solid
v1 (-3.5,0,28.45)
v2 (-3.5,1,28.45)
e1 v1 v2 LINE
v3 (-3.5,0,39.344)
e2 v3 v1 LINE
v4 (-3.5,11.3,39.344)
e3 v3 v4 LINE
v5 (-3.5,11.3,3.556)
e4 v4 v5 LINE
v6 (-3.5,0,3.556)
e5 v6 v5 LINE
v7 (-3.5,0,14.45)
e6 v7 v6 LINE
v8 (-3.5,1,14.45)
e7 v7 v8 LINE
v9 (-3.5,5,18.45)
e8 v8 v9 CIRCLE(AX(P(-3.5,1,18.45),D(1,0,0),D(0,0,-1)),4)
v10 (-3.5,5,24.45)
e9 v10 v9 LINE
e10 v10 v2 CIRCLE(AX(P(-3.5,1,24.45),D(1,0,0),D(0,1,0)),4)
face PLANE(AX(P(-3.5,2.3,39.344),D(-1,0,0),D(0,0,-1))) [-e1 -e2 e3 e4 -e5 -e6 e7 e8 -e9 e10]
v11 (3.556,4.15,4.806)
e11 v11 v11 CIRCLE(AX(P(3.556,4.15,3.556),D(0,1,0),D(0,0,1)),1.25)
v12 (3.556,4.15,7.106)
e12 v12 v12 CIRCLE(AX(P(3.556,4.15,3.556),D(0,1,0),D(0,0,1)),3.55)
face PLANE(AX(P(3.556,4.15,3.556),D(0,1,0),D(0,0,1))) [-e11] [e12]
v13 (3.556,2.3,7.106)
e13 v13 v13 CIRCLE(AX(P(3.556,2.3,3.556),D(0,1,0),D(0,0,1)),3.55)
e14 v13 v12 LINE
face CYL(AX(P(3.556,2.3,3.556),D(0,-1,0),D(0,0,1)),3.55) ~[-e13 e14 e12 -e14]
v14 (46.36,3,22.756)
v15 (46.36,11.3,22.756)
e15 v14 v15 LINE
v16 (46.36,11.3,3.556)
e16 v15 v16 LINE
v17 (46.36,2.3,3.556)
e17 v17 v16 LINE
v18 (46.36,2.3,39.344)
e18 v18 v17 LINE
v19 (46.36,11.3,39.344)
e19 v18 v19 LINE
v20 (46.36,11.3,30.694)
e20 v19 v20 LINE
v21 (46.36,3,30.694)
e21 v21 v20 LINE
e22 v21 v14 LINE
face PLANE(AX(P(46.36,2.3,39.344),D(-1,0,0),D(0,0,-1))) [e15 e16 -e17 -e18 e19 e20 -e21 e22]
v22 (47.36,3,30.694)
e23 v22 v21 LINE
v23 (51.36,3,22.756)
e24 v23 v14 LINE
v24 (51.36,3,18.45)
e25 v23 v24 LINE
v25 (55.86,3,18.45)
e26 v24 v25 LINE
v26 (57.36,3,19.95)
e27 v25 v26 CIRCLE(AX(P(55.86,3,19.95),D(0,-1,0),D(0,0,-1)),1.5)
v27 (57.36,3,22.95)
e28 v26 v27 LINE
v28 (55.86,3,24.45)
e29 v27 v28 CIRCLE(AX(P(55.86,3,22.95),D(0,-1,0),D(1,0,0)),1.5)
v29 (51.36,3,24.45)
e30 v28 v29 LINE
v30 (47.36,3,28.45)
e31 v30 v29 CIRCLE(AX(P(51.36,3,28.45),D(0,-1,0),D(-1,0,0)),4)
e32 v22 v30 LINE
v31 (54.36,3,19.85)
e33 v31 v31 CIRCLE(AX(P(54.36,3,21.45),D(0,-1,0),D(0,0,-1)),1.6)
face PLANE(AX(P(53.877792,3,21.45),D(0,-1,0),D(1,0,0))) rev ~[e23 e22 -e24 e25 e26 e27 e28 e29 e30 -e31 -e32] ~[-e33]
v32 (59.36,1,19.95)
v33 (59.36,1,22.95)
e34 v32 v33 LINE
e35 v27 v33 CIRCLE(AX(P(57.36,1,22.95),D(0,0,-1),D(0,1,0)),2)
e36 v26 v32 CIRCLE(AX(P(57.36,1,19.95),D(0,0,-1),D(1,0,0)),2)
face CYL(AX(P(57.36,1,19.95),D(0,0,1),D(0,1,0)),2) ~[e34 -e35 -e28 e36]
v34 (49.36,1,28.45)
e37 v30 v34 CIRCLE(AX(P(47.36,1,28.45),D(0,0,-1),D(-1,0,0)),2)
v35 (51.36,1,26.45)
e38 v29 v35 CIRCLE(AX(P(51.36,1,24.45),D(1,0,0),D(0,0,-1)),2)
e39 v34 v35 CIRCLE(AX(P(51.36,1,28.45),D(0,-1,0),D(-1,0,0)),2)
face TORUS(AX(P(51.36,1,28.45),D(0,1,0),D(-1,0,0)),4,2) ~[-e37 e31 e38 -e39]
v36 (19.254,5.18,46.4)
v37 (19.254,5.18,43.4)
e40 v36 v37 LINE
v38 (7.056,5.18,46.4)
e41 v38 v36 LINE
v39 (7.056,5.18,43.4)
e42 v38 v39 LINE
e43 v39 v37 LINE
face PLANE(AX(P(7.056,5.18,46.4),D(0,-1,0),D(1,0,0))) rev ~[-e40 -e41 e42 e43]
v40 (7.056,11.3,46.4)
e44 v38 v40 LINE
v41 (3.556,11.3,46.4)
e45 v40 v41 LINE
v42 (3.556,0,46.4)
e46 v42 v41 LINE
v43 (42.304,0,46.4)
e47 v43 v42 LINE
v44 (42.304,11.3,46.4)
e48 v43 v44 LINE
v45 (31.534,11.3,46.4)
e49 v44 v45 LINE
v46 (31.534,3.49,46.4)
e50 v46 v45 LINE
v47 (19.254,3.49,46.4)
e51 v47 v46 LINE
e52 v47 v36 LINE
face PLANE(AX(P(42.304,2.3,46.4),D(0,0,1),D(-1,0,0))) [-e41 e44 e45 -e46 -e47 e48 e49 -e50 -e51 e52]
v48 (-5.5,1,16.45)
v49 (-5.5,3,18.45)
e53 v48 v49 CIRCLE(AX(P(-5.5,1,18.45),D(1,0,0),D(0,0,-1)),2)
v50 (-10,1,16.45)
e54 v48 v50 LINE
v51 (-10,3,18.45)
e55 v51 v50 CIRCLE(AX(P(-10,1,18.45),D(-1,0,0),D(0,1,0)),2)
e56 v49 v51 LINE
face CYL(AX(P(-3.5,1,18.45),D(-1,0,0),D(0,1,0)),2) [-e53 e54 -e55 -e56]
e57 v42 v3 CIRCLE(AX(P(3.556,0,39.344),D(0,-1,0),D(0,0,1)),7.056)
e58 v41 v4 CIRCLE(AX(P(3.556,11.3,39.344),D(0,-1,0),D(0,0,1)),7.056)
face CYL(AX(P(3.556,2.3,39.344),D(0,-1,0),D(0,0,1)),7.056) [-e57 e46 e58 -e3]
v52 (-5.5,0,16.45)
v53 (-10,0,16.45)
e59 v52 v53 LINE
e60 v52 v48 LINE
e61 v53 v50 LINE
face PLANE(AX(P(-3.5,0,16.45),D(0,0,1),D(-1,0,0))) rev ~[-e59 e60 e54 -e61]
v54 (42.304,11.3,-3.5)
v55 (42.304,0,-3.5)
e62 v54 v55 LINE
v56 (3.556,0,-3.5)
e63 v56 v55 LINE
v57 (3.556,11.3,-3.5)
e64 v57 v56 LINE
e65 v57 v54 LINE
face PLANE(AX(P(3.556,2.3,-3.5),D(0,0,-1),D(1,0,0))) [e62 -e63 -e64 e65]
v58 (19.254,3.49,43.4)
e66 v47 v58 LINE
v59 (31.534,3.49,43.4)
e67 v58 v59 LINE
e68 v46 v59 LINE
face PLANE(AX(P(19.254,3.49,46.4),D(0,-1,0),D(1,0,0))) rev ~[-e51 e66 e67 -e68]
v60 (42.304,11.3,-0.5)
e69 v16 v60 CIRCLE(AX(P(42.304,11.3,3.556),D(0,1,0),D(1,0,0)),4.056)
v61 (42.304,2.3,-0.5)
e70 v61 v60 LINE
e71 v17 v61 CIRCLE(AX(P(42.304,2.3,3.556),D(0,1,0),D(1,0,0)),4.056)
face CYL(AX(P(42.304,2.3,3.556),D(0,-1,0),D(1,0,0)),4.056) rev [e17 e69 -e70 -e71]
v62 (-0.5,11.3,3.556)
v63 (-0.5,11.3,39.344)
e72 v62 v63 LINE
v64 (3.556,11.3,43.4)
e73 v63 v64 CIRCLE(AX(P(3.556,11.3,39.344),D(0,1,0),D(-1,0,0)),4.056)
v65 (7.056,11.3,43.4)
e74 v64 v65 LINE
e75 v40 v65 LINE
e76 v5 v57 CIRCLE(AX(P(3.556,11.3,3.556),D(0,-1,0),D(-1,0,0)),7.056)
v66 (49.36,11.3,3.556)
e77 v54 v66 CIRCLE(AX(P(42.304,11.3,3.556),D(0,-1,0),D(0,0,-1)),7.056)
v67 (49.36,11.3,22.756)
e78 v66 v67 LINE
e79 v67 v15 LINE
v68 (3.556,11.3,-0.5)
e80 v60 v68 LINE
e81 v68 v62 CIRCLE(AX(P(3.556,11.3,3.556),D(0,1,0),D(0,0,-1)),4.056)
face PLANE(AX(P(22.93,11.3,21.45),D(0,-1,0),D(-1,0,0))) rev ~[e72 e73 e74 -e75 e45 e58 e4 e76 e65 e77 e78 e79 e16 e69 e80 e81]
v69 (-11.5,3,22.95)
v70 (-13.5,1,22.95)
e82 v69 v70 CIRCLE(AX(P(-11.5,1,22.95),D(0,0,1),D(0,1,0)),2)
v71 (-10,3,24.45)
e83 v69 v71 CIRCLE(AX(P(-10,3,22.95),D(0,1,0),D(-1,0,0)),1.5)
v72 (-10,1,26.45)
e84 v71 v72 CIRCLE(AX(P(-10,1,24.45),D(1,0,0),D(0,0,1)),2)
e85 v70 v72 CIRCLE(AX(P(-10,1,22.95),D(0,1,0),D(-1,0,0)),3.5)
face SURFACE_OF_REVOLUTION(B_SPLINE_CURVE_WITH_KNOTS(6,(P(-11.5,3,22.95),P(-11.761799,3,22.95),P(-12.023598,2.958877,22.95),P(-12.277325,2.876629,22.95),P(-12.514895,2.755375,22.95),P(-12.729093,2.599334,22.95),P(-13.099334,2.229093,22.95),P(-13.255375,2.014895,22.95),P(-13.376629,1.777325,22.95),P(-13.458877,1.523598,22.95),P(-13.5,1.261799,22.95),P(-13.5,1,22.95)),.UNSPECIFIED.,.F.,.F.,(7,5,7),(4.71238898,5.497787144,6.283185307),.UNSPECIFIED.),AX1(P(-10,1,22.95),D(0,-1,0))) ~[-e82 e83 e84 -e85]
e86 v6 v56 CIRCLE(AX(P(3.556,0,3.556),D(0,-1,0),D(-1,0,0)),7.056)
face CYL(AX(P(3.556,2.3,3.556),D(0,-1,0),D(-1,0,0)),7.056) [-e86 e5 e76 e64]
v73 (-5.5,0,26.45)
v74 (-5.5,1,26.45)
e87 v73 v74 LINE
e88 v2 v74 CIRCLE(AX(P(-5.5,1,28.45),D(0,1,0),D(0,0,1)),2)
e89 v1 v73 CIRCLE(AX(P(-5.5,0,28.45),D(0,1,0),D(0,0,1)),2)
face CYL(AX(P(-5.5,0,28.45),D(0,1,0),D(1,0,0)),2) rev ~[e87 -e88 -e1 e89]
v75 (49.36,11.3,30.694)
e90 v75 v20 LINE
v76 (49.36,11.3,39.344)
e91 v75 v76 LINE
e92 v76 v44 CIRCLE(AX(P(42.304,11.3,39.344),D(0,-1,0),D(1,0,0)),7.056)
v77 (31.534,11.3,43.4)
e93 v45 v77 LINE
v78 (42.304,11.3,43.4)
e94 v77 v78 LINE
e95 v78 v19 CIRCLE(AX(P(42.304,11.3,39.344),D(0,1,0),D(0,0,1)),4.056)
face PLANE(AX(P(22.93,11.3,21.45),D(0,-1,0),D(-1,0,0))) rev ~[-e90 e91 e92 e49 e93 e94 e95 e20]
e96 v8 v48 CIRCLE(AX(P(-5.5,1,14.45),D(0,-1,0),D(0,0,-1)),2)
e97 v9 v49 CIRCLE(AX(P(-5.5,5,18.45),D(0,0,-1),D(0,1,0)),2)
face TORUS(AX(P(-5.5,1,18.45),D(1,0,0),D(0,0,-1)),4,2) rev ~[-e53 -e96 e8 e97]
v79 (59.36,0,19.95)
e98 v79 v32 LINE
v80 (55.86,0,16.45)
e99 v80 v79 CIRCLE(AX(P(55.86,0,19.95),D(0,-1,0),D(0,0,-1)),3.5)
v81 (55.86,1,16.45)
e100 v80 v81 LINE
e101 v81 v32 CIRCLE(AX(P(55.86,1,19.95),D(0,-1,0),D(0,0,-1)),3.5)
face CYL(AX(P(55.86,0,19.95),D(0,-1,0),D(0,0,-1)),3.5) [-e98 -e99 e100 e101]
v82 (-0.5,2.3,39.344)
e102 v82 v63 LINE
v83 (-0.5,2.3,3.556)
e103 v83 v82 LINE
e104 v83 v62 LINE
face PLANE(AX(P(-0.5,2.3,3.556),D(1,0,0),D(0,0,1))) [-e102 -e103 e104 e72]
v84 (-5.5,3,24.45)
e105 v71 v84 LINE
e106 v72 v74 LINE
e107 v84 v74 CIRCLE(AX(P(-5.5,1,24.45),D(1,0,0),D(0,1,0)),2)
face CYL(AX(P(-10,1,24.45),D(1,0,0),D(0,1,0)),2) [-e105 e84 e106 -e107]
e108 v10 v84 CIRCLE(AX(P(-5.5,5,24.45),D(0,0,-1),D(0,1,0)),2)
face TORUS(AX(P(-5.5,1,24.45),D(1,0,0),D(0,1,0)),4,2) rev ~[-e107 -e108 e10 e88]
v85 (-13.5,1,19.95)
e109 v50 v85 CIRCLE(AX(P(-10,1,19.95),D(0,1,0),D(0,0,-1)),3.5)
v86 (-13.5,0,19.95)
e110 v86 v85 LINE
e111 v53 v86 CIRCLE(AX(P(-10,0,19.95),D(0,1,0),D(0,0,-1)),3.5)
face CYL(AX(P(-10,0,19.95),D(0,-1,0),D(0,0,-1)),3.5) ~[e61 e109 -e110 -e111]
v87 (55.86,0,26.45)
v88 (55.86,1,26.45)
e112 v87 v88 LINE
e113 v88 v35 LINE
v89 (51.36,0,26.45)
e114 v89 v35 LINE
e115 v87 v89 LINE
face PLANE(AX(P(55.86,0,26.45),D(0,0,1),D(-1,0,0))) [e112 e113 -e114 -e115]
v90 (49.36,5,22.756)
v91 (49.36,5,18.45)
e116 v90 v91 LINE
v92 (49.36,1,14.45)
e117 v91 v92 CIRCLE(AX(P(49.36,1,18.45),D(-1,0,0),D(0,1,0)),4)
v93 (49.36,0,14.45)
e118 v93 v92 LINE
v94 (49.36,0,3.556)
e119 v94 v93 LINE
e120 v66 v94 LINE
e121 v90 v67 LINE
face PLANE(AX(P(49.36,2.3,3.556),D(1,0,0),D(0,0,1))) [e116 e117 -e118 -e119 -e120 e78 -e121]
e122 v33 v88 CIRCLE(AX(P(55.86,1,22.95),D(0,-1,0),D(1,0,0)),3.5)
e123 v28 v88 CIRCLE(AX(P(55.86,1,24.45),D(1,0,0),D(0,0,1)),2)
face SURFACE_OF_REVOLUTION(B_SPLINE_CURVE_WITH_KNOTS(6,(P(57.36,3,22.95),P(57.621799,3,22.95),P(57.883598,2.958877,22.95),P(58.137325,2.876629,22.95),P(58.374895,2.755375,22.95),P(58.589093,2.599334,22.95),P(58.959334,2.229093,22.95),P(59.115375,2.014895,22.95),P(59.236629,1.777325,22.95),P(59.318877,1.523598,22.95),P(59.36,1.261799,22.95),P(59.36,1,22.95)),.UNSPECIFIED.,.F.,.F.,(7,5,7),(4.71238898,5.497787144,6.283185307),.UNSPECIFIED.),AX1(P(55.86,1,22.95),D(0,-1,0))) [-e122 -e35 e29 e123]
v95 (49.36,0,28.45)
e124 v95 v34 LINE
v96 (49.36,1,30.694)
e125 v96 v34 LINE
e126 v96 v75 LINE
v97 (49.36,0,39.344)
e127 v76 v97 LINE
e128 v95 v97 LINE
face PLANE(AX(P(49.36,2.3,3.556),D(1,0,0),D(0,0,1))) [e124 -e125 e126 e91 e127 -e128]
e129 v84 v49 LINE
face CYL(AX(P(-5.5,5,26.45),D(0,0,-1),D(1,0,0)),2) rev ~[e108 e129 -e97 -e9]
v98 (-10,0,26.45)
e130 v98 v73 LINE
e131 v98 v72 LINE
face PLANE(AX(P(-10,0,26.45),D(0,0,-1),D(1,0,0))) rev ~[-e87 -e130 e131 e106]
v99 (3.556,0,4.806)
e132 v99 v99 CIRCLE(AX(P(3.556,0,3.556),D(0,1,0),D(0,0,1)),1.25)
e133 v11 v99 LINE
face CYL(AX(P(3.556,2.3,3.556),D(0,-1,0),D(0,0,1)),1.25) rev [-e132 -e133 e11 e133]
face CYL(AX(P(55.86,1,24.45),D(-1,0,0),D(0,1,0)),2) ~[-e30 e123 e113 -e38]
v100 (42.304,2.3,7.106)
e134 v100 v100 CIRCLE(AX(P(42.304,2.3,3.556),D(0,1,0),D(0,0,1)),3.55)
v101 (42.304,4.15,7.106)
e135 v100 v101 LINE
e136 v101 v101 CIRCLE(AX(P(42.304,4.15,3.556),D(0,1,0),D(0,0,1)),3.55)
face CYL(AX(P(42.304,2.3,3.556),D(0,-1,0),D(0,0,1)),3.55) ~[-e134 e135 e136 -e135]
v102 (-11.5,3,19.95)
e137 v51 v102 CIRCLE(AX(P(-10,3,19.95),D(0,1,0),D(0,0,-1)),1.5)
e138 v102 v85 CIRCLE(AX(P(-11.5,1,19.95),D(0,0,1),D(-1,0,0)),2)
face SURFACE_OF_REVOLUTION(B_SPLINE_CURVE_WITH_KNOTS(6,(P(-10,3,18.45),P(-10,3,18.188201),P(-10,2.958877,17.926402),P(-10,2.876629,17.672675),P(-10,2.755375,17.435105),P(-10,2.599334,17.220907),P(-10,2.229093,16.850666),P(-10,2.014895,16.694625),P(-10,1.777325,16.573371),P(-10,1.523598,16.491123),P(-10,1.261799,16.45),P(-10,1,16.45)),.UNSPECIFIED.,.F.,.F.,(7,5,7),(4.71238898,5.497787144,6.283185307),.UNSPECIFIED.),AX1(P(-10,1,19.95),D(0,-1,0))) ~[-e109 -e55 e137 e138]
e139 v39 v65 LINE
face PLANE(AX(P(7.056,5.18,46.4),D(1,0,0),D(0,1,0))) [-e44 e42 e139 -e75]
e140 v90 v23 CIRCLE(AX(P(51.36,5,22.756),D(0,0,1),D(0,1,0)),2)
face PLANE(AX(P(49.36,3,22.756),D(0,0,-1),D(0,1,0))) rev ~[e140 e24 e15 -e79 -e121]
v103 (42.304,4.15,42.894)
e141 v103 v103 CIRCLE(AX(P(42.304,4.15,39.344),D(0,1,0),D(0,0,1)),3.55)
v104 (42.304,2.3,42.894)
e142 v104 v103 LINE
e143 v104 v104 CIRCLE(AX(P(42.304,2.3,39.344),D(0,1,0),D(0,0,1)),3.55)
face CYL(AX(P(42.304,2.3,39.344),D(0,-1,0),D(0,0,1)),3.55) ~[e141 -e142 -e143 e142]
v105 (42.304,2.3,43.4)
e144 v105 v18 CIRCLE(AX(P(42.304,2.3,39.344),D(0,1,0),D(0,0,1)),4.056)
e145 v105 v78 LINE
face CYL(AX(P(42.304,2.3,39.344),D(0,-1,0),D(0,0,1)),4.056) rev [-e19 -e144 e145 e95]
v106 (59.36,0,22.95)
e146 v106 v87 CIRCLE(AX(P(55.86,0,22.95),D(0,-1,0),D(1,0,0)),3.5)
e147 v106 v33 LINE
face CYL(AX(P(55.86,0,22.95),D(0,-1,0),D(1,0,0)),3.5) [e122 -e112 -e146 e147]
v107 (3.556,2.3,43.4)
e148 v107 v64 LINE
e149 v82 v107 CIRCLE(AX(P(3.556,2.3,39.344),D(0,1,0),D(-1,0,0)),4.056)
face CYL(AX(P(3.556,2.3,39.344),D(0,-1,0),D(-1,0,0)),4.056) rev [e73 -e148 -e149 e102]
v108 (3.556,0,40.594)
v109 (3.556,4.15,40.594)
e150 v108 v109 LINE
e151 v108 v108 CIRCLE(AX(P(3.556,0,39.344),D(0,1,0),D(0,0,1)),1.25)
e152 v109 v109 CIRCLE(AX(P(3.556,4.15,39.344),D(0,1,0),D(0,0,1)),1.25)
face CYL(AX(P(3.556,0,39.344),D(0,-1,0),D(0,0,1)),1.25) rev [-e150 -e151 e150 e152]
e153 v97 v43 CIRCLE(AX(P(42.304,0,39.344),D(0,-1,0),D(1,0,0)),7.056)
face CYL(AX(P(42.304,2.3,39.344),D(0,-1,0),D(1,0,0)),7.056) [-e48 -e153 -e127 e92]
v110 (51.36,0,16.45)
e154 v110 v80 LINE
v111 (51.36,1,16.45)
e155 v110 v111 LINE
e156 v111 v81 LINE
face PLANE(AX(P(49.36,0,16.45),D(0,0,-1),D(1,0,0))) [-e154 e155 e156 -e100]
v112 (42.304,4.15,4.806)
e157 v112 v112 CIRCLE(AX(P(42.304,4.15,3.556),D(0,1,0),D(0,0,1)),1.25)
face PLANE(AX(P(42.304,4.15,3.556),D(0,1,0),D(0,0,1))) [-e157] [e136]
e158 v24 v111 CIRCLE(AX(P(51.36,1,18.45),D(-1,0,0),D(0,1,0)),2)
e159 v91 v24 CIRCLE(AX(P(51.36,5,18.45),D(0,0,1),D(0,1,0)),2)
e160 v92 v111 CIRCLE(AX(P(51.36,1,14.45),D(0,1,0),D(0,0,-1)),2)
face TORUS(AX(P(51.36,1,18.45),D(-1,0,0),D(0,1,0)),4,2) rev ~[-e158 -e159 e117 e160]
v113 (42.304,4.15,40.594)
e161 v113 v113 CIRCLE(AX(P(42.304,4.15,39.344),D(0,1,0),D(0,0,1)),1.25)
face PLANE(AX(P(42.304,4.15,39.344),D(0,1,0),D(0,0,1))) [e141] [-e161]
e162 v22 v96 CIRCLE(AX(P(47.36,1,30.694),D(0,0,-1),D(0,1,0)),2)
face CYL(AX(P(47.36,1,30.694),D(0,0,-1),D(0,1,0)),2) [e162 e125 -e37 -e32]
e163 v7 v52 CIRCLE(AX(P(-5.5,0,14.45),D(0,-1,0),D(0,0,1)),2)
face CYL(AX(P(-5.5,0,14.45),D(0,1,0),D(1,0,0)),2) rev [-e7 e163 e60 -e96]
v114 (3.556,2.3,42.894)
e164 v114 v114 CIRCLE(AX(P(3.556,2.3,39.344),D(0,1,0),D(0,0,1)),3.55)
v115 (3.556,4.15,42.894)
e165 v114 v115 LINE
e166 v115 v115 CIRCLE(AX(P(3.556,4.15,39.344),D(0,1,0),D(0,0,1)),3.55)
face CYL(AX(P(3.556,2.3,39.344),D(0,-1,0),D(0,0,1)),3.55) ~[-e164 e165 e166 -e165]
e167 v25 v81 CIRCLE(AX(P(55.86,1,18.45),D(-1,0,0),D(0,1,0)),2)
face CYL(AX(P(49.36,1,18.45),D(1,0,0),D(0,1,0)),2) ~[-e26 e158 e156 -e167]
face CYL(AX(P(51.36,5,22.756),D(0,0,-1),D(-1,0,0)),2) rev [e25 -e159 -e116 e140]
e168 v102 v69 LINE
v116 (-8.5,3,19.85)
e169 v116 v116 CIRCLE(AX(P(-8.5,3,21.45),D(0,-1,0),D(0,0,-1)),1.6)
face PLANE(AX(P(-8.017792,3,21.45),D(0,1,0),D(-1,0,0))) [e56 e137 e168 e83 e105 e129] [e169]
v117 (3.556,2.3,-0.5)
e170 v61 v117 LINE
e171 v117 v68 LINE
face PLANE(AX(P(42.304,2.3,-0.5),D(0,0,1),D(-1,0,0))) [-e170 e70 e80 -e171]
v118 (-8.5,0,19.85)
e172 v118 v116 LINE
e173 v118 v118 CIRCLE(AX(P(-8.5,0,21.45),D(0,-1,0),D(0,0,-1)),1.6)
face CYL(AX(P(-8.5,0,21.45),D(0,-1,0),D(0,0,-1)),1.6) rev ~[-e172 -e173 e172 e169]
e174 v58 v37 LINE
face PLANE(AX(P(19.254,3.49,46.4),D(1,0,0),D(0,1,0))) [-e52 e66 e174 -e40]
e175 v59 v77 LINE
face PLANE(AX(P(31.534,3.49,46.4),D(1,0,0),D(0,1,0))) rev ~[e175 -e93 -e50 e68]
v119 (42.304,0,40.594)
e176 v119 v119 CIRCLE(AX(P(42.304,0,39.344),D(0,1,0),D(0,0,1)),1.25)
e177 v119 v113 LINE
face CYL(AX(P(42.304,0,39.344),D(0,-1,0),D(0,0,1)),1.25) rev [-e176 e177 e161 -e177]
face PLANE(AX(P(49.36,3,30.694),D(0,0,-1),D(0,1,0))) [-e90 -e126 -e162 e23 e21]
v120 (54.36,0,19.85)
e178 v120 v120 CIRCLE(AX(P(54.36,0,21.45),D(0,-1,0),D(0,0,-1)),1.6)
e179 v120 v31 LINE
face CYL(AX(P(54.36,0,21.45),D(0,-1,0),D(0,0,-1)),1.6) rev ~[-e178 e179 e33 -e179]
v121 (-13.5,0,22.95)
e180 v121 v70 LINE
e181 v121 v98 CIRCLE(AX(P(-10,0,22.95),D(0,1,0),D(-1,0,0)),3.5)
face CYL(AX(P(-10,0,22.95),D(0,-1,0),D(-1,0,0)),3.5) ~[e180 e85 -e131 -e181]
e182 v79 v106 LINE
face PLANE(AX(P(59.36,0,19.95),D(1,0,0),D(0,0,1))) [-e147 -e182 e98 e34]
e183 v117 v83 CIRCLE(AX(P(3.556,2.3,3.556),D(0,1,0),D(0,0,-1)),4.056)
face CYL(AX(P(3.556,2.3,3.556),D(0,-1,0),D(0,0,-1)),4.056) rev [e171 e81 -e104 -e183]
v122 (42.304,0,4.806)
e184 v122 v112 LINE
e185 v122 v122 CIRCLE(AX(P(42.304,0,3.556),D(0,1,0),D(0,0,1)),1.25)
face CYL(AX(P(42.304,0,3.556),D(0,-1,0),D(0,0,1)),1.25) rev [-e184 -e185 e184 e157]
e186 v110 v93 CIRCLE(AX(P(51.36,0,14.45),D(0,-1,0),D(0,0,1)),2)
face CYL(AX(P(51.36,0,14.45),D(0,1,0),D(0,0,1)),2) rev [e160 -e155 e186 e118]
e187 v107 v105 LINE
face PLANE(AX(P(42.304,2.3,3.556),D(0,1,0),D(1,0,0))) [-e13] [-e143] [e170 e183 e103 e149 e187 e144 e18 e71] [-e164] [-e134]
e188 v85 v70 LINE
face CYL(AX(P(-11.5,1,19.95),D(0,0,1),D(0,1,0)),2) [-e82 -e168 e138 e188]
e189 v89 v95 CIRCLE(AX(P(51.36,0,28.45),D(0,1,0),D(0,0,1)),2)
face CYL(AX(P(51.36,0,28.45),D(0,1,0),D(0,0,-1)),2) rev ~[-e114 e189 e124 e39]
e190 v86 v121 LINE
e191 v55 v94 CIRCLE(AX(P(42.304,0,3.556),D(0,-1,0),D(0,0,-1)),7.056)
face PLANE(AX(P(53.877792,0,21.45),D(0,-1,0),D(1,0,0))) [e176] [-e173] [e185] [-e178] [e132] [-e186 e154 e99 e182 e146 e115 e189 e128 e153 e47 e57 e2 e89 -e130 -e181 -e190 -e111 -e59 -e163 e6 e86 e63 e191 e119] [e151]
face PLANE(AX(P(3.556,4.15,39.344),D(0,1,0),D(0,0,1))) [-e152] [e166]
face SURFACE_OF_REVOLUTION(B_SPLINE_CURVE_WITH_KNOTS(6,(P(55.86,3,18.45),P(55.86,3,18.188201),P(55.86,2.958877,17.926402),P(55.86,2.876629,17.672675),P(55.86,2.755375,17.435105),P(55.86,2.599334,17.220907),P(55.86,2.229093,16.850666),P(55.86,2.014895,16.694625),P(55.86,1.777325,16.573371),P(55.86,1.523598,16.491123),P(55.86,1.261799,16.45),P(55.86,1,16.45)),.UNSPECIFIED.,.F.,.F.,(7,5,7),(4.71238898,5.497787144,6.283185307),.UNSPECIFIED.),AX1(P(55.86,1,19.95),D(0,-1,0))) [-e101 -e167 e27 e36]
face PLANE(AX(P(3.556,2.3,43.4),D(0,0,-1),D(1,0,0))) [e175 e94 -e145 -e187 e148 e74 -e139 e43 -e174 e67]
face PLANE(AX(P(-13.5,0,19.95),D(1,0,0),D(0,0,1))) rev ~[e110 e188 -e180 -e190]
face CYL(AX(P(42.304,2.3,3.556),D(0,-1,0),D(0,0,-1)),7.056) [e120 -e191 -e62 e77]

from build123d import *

# Parameters (mm, degrees)
SKETCH1_R           = 3.55
SKETCH1_R_2         = 1.25
BOSS_EXTRUDE1_DEPTH = 2.3
BOSS_EXTRUDE2_START = 2.3
SKETCH1_3_R         = 3.55
SKETCH1_3_R_2       = 1.25
BOSS_EXTRUDE2_DEPTH = 1.85
BOSS_EXTRUDE3_START = 2.3
BOSS_EXTRUDE3_DEPTH = 9
CUT_EXTRUDE3_REACH  = 73.238
SKETCH2_W           = 7.938
SKETCH2_H           = 8.3
CUT_EXTRUDE4_REACH  = 73.092
SKETCH3_W           = 13.048
SKETCH3_H           = 6.12
CUT_EXTRUDE5_REACH  = 73.092
SKETCH4_W           = 12.28
SKETCH4_H           = 7.81
SKETCH5_R           = 1.6
BOSS_EXTRUDE4_DEPTH = 3
FILLET1_R           = 2


with BuildPart() as part:
    # Sketch1 → Boss-Extrude1 (new body)
    # profile 1 of 7: a face of its own
    with BuildSketch(Plane(origin=(0, 0, 0), x_dir=(1, 0, 0), z_dir=(0, 1, 0))):
        with BuildLine():
            ThreePointArc((-3.5, -3.556), (-1.433345448, 1.433345448), (3.556, 3.5))
            Line((3.556, 3.5), (42.304, 3.5))
            ThreePointArc((42.304, 3.5), (47.293345448, 1.433345448), (49.36, -3.556))
            Line((49.36, -3.556), (49.36, -39.344))
            ThreePointArc((49.36, -39.344), (47.293345448, -44.333345448), (42.304, -46.4))
            Line((42.304, -46.4), (3.556, -46.4))
            ThreePointArc((3.556, -46.4), (-1.433345448, -44.333345448), (-3.5, -39.344))
            Line((-3.5, -39.344), (-3.5, -3.556))
        make_face()
        with BuildLine():
            Line((-0.5, -3.556), (-0.5, -39.344))
            ThreePointArc((-0.5, -39.344), (0.687974896, -42.212025104), (3.556, -43.4))
            Line((3.556, -43.4), (42.304, -43.4))
            ThreePointArc((42.304, -43.4), (45.172025104, -42.212025104), (46.36, -39.344))
            Line((46.36, -39.344), (46.36, -3.556))
            ThreePointArc((46.36, -3.556), (45.172025104, -0.687974896), (42.304, 0.5))
            Line((42.304, 0.5), (3.556, 0.5))
            ThreePointArc((3.556, 0.5), (0.687974896, -0.687974896), (-0.5, -3.556))
        make_face(mode=Mode.SUBTRACT)
    # profile 2 of 7: a face of its own
    with BuildSketch(Plane(origin=(0, 0, 0), x_dir=(1, 0, 0), z_dir=(0, 1, 0))):
        with BuildLine():
            ThreePointArc((-0.5, -3.556), (0.687974896, -0.687974896), (3.556, 0.5))
            Line((3.556, 0.5), (42.304, 0.5))
            ThreePointArc((42.304, 0.5), (45.172025104, -0.687974896), (46.36, -3.556))
            Line((46.36, -3.556), (46.36, -39.344))
            ThreePointArc((46.36, -39.344), (45.172025104, -42.212025104), (42.304, -43.4))
            Line((42.304, -43.4), (3.556, -43.4))
            ThreePointArc((3.556, -43.4), (0.687974896, -42.212025104), (-0.5, -39.344))
            Line((-0.5, -39.344), (-0.5, -3.556))
        make_face()
        with BuildLine():
            Line((0, -3.556), (0, -39.344))
            ThreePointArc((0, -39.344), (1.041528286, -41.858471714), (3.556, -42.9))
            Line((3.556, -42.9), (42.304, -42.9))
            ThreePointArc((42.304, -42.9), (44.818471714, -41.858471714), (45.86, -39.344))
            Line((45.86, -39.344), (45.86, -3.556))
            ThreePointArc((45.86, -3.556), (44.818471714, -1.041528286), (42.304, 0))
            Line((42.304, 0), (3.556, 0))
            ThreePointArc((3.556, 0), (1.041528286, -1.041528286), (0, -3.556))
        make_face(mode=Mode.SUBTRACT)
    # profile 3 of 7: a face of its own
    with BuildSketch(Plane(origin=(0, 0, 0), x_dir=(1, 0, 0), z_dir=(0, 1, 0))):
        with BuildLine():
            ThreePointArc((0, -3.556), (1.041528286, -1.041528286), (3.556, 0))
            Line((3.556, 0), (42.304, 0))
            ThreePointArc((42.304, 0), (44.818471714, -1.041528286), (45.86, -3.556))
            Line((45.86, -3.556), (45.86, -39.344))
            ThreePointArc((45.86, -39.344), (44.818471714, -41.858471714), (42.304, -42.9))
            Line((42.304, -42.9), (3.556, -42.9))
            ThreePointArc((3.556, -42.9), (1.041528286, -41.858471714), (0, -39.344))
            Line((0, -39.344), (0, -3.556))
        make_face()
        with Locations((3.556, -39.344)):
            Circle(SKETCH1_R, mode=Mode.SUBTRACT)
        with Locations((42.304, -39.344)):
            Circle(SKETCH1_R, mode=Mode.SUBTRACT)
        with Locations((42.304, -3.556)):
            Circle(SKETCH1_R, mode=Mode.SUBTRACT)
        with Locations((3.556, -3.556)):
            Circle(SKETCH1_R, mode=Mode.SUBTRACT)
    # profile 4 of 7: a face of its own
    with BuildSketch(Plane(origin=(0, 0, 0), x_dir=(1, 0, 0), z_dir=(0, 1, 0))):
        with Locations((42.304, -39.344)):
            Circle(SKETCH1_R)
        with Locations(Location((42.304, -39.344, 0), (0, 0, 270))):
            Circle(SKETCH1_R_2, mode=Mode.SUBTRACT)
    # profile 5 of 7: a face of its own
    with BuildSketch(Plane(origin=(0, 0, 0), x_dir=(1, 0, 0), z_dir=(0, 1, 0))):
        with Locations((3.556, -39.344)):
            Circle(SKETCH1_R)
        with Locations(Location((3.556, -39.344, 0), (0, 0, 270))):
            Circle(SKETCH1_R_2, mode=Mode.SUBTRACT)
    # profile 6 of 7: a face of its own
    with BuildSketch(Plane(origin=(0, 0, 0), x_dir=(1, 0, 0), z_dir=(0, 1, 0))):
        with Locations((3.556, -3.556)):
            Circle(SKETCH1_R)
        with Locations(Location((3.556, -3.556, 0), (0, 0, 270))):
            Circle(SKETCH1_R_2, mode=Mode.SUBTRACT)
    # profile 7 of 7: a face of its own
    with BuildSketch(Plane(origin=(0, 0, 0), x_dir=(1, 0, 0), z_dir=(0, 1, 0))):
        with Locations((42.304, -3.556)):
            Circle(SKETCH1_R)
        with Locations(Location((42.304, -3.556, 0), (0, 0, 270))):
            Circle(SKETCH1_R_2, mode=Mode.SUBTRACT)
    extrude(amount=BOSS_EXTRUDE1_DEPTH)

    # Sketch1<3> → Boss-Extrude2 (add)
    # profile 1 of 4: a face of its own
    with BuildSketch(Plane(origin=(0, 0, 0), x_dir=(1, 0, 0), z_dir=(0, 1, 0)).offset(BOSS_EXTRUDE2_START)):
        with Locations(Location((3.556, -3.556, 0), (0, 0, 270))):
            Circle(SKETCH1_3_R)
        with Locations(Location((3.556, -3.556, 0), (0, 0, 270))):
            Circle(SKETCH1_3_R_2, mode=Mode.SUBTRACT)
    # profile 2 of 4: a face of its own
    with BuildSketch(Plane(origin=(0, 0, 0), x_dir=(1, 0, 0), z_dir=(0, 1, 0)).offset(BOSS_EXTRUDE2_START)):
        with Locations(Location((42.304, -3.556, 0), (0, 0, 270))):
            Circle(SKETCH1_3_R)
        with Locations(Location((42.304, -3.556, 0), (0, 0, 270))):
            Circle(SKETCH1_3_R_2, mode=Mode.SUBTRACT)
    # profile 3 of 4: a face of its own
    with BuildSketch(Plane(origin=(0, 0, 0), x_dir=(1, 0, 0), z_dir=(0, 1, 0)).offset(BOSS_EXTRUDE2_START)):
        with Locations(Location((42.304, -39.344, 0), (0, 0, 270))):
            Circle(SKETCH1_3_R)
        with Locations(Location((42.304, -39.344, 0), (0, 0, 270))):
            Circle(SKETCH1_3_R_2, mode=Mode.SUBTRACT)
    # profile 4 of 4: a face of its own
    with BuildSketch(Plane(origin=(0, 0, 0), x_dir=(1, 0, 0), z_dir=(0, 1, 0)).offset(BOSS_EXTRUDE2_START)):
        with Locations(Location((3.556, -39.344, 0), (0, 0, 270))):
            Circle(SKETCH1_3_R)
        with Locations(Location((3.556, -39.344, 0), (0, 0, 270))):
            Circle(SKETCH1_3_R_2, mode=Mode.SUBTRACT)
    extrude(amount=BOSS_EXTRUDE2_DEPTH)

    # Sketch1<4> → Boss-Extrude3 (add)
    with BuildSketch(Plane(origin=(0, 0, 0), x_dir=(1, 0, 0), z_dir=(0, 1, 0)).offset(BOSS_EXTRUDE3_START)):
        with BuildLine():
            ThreePointArc((-3.5, -3.556), (-1.433345448, 1.433345448), (3.556, 3.5))
            Line((3.556, 3.5), (42.304, 3.5))
            ThreePointArc((42.304, 3.5), (47.293345448, 1.433345448), (49.36, -3.556))
            Line((49.36, -3.556), (49.36, -39.344))
            ThreePointArc((49.36, -39.344), (47.293345448, -44.333345448), (42.304, -46.4))
            Line((42.304, -46.4), (3.556, -46.4))
            ThreePointArc((3.556, -46.4), (-1.433345448, -44.333345448), (-3.5, -39.344))
            Line((-3.5, -39.344), (-3.5, -3.556))
        make_face()
        with BuildLine():
            Line((-0.5, -3.556), (-0.5, -39.344))
            ThreePointArc((-0.5, -39.344), (0.687974896, -42.212025104), (3.556, -43.4))
            Line((3.556, -43.4), (42.304, -43.4))
            ThreePointArc((42.304, -43.4), (45.172025104, -42.212025104), (46.36, -39.344))
            Line((46.36, -39.344), (46.36, -3.556))
            ThreePointArc((46.36, -3.556), (45.172025104, -0.687974896), (42.304, 0.5))
            Line((42.304, 0.5), (3.556, 0.5))
            ThreePointArc((3.556, 0.5), (0.687974896, -0.687974896), (-0.5, -3.556))
        make_face(mode=Mode.SUBTRACT)
    extrude(amount=BOSS_EXTRUDE3_DEPTH)

    # Sketch2 → Cut-Extrude3 (cut, up to next)
    with BuildSketch(Plane(origin=(49.36, 0, 0), x_dir=(0, 0, -1), z_dir=(1, 0, 0)), mode=Mode.PRIVATE) as cut_extrude3_sk1:
        with Locations((-26.725, 7.15)):
            Rectangle(SKETCH2_W, SKETCH2_H)
    cut_extrude3_tool1 = extrude(cut_extrude3_sk1.sketch, amount=-CUT_EXTRUDE3_REACH, mode=Mode.PRIVATE) & part.part
    add(cut_extrude3_tool1.solids().sort_by_distance((49.36, 7.15, 26.725))[0], mode=Mode.SUBTRACT)

    # Sketch3 → Cut-Extrude4 (cut, up to next)
    with BuildSketch(Plane.XY.offset(46.4), mode=Mode.PRIVATE) as cut_extrude4_sk1:
        with Locations((13.58, 8.24)):
            Rectangle(SKETCH3_W, SKETCH3_H)
    cut_extrude4_tool1 = extrude(cut_extrude4_sk1.sketch, amount=-CUT_EXTRUDE4_REACH, mode=Mode.PRIVATE) & part.part
    add(cut_extrude4_tool1.solids().sort_by_distance((13.58, 8.24, 46.4))[0], mode=Mode.SUBTRACT)

    # Sketch4 → Cut-Extrude5 (cut, up to next)
    with BuildSketch(Plane.XY.offset(46.4), mode=Mode.PRIVATE) as cut_extrude5_sk1:
        with Locations((25.394, 7.395)):
            Rectangle(SKETCH4_W, SKETCH4_H)
    cut_extrude5_tool1 = extrude(cut_extrude5_sk1.sketch, amount=-CUT_EXTRUDE5_REACH, mode=Mode.PRIVATE) & part.part
    add(cut_extrude5_tool1.solids().sort_by_distance((25.394, 7.395, 46.4))[0], mode=Mode.SUBTRACT)

    # Sketch5 → Boss-Extrude4 (add)
    # profile 1 of 2: a face of its own
    with BuildSketch(Plane.XZ):
        with BuildLine():
            Line((-3.5, 16.45), (-10, 16.45))
            ThreePointArc((-10, 16.45), (-12.474873734, 17.475126266), (-13.5, 19.95))
            Line((-13.5, 19.95), (-13.5, 22.95))
            ThreePointArc((-13.5, 22.95), (-12.474873734, 25.424873734), (-10, 26.45))
            Line((-10, 26.45), (-3.5, 26.45))
            Line((-3.5, 26.45), (-3.5, 16.45))
        make_face()
        with Locations(Location((-8.5, 21.45, 0), (0, 0, 270))):
            Circle(SKETCH5_R, mode=Mode.SUBTRACT)
    # profile 2 of 2: a face of its own
    with BuildSketch(Plane.XZ):
        with BuildLine():
            Line((49.36, 16.45), (55.86, 16.45))
            ThreePointArc((55.86, 16.45), (58.334873734, 17.475126266), (59.36, 19.95))
            Line((59.36, 19.95), (59.36, 22.95))
            ThreePointArc((59.36, 22.95), (58.334873734, 25.424873734), (55.86, 26.45))
            Line((55.86, 26.45), (49.36, 26.45))
            Line((49.36, 26.45), (49.36, 16.45))
        make_face()
        with Locations(Location((54.36, 21.45, 0), (0, 0, 270))):
            Circle(SKETCH5_R, mode=Mode.SUBTRACT)
    extrude(amount=-BOSS_EXTRUDE4_DEPTH)

    # Fillet1
    fillet1_edges = [part.edges().sort_by_distance(p)[0] for p in [
        (49.36, 3, 28.572),
        (-3.5, 3, 21.45),
        (-3.5, 1.5, 26.45),
        (-6.75, 3, 16.45),
        (-3.5, 1.5, 16.45),
        (-12.474873734, 3, 17.475126266),
        (-13.5, 3, 21.45),
        (-12.474873734, 3, 25.424873734),
        (-6.75, 3, 26.45),
        (49.36, 3, 19.603),
        (49.36, 1.5, 16.45),
        (52.61, 3, 26.45),
        (49.36, 1.5, 26.45),
        (58.334873734, 3, 25.424873734),
        (59.36, 3, 21.45),
        (58.334873734, 3, 17.475126266),
        (52.61, 3, 16.45),
    ]]
    fillet(fillet1_edges, radius=FILLET1_R)


solid = part.part
